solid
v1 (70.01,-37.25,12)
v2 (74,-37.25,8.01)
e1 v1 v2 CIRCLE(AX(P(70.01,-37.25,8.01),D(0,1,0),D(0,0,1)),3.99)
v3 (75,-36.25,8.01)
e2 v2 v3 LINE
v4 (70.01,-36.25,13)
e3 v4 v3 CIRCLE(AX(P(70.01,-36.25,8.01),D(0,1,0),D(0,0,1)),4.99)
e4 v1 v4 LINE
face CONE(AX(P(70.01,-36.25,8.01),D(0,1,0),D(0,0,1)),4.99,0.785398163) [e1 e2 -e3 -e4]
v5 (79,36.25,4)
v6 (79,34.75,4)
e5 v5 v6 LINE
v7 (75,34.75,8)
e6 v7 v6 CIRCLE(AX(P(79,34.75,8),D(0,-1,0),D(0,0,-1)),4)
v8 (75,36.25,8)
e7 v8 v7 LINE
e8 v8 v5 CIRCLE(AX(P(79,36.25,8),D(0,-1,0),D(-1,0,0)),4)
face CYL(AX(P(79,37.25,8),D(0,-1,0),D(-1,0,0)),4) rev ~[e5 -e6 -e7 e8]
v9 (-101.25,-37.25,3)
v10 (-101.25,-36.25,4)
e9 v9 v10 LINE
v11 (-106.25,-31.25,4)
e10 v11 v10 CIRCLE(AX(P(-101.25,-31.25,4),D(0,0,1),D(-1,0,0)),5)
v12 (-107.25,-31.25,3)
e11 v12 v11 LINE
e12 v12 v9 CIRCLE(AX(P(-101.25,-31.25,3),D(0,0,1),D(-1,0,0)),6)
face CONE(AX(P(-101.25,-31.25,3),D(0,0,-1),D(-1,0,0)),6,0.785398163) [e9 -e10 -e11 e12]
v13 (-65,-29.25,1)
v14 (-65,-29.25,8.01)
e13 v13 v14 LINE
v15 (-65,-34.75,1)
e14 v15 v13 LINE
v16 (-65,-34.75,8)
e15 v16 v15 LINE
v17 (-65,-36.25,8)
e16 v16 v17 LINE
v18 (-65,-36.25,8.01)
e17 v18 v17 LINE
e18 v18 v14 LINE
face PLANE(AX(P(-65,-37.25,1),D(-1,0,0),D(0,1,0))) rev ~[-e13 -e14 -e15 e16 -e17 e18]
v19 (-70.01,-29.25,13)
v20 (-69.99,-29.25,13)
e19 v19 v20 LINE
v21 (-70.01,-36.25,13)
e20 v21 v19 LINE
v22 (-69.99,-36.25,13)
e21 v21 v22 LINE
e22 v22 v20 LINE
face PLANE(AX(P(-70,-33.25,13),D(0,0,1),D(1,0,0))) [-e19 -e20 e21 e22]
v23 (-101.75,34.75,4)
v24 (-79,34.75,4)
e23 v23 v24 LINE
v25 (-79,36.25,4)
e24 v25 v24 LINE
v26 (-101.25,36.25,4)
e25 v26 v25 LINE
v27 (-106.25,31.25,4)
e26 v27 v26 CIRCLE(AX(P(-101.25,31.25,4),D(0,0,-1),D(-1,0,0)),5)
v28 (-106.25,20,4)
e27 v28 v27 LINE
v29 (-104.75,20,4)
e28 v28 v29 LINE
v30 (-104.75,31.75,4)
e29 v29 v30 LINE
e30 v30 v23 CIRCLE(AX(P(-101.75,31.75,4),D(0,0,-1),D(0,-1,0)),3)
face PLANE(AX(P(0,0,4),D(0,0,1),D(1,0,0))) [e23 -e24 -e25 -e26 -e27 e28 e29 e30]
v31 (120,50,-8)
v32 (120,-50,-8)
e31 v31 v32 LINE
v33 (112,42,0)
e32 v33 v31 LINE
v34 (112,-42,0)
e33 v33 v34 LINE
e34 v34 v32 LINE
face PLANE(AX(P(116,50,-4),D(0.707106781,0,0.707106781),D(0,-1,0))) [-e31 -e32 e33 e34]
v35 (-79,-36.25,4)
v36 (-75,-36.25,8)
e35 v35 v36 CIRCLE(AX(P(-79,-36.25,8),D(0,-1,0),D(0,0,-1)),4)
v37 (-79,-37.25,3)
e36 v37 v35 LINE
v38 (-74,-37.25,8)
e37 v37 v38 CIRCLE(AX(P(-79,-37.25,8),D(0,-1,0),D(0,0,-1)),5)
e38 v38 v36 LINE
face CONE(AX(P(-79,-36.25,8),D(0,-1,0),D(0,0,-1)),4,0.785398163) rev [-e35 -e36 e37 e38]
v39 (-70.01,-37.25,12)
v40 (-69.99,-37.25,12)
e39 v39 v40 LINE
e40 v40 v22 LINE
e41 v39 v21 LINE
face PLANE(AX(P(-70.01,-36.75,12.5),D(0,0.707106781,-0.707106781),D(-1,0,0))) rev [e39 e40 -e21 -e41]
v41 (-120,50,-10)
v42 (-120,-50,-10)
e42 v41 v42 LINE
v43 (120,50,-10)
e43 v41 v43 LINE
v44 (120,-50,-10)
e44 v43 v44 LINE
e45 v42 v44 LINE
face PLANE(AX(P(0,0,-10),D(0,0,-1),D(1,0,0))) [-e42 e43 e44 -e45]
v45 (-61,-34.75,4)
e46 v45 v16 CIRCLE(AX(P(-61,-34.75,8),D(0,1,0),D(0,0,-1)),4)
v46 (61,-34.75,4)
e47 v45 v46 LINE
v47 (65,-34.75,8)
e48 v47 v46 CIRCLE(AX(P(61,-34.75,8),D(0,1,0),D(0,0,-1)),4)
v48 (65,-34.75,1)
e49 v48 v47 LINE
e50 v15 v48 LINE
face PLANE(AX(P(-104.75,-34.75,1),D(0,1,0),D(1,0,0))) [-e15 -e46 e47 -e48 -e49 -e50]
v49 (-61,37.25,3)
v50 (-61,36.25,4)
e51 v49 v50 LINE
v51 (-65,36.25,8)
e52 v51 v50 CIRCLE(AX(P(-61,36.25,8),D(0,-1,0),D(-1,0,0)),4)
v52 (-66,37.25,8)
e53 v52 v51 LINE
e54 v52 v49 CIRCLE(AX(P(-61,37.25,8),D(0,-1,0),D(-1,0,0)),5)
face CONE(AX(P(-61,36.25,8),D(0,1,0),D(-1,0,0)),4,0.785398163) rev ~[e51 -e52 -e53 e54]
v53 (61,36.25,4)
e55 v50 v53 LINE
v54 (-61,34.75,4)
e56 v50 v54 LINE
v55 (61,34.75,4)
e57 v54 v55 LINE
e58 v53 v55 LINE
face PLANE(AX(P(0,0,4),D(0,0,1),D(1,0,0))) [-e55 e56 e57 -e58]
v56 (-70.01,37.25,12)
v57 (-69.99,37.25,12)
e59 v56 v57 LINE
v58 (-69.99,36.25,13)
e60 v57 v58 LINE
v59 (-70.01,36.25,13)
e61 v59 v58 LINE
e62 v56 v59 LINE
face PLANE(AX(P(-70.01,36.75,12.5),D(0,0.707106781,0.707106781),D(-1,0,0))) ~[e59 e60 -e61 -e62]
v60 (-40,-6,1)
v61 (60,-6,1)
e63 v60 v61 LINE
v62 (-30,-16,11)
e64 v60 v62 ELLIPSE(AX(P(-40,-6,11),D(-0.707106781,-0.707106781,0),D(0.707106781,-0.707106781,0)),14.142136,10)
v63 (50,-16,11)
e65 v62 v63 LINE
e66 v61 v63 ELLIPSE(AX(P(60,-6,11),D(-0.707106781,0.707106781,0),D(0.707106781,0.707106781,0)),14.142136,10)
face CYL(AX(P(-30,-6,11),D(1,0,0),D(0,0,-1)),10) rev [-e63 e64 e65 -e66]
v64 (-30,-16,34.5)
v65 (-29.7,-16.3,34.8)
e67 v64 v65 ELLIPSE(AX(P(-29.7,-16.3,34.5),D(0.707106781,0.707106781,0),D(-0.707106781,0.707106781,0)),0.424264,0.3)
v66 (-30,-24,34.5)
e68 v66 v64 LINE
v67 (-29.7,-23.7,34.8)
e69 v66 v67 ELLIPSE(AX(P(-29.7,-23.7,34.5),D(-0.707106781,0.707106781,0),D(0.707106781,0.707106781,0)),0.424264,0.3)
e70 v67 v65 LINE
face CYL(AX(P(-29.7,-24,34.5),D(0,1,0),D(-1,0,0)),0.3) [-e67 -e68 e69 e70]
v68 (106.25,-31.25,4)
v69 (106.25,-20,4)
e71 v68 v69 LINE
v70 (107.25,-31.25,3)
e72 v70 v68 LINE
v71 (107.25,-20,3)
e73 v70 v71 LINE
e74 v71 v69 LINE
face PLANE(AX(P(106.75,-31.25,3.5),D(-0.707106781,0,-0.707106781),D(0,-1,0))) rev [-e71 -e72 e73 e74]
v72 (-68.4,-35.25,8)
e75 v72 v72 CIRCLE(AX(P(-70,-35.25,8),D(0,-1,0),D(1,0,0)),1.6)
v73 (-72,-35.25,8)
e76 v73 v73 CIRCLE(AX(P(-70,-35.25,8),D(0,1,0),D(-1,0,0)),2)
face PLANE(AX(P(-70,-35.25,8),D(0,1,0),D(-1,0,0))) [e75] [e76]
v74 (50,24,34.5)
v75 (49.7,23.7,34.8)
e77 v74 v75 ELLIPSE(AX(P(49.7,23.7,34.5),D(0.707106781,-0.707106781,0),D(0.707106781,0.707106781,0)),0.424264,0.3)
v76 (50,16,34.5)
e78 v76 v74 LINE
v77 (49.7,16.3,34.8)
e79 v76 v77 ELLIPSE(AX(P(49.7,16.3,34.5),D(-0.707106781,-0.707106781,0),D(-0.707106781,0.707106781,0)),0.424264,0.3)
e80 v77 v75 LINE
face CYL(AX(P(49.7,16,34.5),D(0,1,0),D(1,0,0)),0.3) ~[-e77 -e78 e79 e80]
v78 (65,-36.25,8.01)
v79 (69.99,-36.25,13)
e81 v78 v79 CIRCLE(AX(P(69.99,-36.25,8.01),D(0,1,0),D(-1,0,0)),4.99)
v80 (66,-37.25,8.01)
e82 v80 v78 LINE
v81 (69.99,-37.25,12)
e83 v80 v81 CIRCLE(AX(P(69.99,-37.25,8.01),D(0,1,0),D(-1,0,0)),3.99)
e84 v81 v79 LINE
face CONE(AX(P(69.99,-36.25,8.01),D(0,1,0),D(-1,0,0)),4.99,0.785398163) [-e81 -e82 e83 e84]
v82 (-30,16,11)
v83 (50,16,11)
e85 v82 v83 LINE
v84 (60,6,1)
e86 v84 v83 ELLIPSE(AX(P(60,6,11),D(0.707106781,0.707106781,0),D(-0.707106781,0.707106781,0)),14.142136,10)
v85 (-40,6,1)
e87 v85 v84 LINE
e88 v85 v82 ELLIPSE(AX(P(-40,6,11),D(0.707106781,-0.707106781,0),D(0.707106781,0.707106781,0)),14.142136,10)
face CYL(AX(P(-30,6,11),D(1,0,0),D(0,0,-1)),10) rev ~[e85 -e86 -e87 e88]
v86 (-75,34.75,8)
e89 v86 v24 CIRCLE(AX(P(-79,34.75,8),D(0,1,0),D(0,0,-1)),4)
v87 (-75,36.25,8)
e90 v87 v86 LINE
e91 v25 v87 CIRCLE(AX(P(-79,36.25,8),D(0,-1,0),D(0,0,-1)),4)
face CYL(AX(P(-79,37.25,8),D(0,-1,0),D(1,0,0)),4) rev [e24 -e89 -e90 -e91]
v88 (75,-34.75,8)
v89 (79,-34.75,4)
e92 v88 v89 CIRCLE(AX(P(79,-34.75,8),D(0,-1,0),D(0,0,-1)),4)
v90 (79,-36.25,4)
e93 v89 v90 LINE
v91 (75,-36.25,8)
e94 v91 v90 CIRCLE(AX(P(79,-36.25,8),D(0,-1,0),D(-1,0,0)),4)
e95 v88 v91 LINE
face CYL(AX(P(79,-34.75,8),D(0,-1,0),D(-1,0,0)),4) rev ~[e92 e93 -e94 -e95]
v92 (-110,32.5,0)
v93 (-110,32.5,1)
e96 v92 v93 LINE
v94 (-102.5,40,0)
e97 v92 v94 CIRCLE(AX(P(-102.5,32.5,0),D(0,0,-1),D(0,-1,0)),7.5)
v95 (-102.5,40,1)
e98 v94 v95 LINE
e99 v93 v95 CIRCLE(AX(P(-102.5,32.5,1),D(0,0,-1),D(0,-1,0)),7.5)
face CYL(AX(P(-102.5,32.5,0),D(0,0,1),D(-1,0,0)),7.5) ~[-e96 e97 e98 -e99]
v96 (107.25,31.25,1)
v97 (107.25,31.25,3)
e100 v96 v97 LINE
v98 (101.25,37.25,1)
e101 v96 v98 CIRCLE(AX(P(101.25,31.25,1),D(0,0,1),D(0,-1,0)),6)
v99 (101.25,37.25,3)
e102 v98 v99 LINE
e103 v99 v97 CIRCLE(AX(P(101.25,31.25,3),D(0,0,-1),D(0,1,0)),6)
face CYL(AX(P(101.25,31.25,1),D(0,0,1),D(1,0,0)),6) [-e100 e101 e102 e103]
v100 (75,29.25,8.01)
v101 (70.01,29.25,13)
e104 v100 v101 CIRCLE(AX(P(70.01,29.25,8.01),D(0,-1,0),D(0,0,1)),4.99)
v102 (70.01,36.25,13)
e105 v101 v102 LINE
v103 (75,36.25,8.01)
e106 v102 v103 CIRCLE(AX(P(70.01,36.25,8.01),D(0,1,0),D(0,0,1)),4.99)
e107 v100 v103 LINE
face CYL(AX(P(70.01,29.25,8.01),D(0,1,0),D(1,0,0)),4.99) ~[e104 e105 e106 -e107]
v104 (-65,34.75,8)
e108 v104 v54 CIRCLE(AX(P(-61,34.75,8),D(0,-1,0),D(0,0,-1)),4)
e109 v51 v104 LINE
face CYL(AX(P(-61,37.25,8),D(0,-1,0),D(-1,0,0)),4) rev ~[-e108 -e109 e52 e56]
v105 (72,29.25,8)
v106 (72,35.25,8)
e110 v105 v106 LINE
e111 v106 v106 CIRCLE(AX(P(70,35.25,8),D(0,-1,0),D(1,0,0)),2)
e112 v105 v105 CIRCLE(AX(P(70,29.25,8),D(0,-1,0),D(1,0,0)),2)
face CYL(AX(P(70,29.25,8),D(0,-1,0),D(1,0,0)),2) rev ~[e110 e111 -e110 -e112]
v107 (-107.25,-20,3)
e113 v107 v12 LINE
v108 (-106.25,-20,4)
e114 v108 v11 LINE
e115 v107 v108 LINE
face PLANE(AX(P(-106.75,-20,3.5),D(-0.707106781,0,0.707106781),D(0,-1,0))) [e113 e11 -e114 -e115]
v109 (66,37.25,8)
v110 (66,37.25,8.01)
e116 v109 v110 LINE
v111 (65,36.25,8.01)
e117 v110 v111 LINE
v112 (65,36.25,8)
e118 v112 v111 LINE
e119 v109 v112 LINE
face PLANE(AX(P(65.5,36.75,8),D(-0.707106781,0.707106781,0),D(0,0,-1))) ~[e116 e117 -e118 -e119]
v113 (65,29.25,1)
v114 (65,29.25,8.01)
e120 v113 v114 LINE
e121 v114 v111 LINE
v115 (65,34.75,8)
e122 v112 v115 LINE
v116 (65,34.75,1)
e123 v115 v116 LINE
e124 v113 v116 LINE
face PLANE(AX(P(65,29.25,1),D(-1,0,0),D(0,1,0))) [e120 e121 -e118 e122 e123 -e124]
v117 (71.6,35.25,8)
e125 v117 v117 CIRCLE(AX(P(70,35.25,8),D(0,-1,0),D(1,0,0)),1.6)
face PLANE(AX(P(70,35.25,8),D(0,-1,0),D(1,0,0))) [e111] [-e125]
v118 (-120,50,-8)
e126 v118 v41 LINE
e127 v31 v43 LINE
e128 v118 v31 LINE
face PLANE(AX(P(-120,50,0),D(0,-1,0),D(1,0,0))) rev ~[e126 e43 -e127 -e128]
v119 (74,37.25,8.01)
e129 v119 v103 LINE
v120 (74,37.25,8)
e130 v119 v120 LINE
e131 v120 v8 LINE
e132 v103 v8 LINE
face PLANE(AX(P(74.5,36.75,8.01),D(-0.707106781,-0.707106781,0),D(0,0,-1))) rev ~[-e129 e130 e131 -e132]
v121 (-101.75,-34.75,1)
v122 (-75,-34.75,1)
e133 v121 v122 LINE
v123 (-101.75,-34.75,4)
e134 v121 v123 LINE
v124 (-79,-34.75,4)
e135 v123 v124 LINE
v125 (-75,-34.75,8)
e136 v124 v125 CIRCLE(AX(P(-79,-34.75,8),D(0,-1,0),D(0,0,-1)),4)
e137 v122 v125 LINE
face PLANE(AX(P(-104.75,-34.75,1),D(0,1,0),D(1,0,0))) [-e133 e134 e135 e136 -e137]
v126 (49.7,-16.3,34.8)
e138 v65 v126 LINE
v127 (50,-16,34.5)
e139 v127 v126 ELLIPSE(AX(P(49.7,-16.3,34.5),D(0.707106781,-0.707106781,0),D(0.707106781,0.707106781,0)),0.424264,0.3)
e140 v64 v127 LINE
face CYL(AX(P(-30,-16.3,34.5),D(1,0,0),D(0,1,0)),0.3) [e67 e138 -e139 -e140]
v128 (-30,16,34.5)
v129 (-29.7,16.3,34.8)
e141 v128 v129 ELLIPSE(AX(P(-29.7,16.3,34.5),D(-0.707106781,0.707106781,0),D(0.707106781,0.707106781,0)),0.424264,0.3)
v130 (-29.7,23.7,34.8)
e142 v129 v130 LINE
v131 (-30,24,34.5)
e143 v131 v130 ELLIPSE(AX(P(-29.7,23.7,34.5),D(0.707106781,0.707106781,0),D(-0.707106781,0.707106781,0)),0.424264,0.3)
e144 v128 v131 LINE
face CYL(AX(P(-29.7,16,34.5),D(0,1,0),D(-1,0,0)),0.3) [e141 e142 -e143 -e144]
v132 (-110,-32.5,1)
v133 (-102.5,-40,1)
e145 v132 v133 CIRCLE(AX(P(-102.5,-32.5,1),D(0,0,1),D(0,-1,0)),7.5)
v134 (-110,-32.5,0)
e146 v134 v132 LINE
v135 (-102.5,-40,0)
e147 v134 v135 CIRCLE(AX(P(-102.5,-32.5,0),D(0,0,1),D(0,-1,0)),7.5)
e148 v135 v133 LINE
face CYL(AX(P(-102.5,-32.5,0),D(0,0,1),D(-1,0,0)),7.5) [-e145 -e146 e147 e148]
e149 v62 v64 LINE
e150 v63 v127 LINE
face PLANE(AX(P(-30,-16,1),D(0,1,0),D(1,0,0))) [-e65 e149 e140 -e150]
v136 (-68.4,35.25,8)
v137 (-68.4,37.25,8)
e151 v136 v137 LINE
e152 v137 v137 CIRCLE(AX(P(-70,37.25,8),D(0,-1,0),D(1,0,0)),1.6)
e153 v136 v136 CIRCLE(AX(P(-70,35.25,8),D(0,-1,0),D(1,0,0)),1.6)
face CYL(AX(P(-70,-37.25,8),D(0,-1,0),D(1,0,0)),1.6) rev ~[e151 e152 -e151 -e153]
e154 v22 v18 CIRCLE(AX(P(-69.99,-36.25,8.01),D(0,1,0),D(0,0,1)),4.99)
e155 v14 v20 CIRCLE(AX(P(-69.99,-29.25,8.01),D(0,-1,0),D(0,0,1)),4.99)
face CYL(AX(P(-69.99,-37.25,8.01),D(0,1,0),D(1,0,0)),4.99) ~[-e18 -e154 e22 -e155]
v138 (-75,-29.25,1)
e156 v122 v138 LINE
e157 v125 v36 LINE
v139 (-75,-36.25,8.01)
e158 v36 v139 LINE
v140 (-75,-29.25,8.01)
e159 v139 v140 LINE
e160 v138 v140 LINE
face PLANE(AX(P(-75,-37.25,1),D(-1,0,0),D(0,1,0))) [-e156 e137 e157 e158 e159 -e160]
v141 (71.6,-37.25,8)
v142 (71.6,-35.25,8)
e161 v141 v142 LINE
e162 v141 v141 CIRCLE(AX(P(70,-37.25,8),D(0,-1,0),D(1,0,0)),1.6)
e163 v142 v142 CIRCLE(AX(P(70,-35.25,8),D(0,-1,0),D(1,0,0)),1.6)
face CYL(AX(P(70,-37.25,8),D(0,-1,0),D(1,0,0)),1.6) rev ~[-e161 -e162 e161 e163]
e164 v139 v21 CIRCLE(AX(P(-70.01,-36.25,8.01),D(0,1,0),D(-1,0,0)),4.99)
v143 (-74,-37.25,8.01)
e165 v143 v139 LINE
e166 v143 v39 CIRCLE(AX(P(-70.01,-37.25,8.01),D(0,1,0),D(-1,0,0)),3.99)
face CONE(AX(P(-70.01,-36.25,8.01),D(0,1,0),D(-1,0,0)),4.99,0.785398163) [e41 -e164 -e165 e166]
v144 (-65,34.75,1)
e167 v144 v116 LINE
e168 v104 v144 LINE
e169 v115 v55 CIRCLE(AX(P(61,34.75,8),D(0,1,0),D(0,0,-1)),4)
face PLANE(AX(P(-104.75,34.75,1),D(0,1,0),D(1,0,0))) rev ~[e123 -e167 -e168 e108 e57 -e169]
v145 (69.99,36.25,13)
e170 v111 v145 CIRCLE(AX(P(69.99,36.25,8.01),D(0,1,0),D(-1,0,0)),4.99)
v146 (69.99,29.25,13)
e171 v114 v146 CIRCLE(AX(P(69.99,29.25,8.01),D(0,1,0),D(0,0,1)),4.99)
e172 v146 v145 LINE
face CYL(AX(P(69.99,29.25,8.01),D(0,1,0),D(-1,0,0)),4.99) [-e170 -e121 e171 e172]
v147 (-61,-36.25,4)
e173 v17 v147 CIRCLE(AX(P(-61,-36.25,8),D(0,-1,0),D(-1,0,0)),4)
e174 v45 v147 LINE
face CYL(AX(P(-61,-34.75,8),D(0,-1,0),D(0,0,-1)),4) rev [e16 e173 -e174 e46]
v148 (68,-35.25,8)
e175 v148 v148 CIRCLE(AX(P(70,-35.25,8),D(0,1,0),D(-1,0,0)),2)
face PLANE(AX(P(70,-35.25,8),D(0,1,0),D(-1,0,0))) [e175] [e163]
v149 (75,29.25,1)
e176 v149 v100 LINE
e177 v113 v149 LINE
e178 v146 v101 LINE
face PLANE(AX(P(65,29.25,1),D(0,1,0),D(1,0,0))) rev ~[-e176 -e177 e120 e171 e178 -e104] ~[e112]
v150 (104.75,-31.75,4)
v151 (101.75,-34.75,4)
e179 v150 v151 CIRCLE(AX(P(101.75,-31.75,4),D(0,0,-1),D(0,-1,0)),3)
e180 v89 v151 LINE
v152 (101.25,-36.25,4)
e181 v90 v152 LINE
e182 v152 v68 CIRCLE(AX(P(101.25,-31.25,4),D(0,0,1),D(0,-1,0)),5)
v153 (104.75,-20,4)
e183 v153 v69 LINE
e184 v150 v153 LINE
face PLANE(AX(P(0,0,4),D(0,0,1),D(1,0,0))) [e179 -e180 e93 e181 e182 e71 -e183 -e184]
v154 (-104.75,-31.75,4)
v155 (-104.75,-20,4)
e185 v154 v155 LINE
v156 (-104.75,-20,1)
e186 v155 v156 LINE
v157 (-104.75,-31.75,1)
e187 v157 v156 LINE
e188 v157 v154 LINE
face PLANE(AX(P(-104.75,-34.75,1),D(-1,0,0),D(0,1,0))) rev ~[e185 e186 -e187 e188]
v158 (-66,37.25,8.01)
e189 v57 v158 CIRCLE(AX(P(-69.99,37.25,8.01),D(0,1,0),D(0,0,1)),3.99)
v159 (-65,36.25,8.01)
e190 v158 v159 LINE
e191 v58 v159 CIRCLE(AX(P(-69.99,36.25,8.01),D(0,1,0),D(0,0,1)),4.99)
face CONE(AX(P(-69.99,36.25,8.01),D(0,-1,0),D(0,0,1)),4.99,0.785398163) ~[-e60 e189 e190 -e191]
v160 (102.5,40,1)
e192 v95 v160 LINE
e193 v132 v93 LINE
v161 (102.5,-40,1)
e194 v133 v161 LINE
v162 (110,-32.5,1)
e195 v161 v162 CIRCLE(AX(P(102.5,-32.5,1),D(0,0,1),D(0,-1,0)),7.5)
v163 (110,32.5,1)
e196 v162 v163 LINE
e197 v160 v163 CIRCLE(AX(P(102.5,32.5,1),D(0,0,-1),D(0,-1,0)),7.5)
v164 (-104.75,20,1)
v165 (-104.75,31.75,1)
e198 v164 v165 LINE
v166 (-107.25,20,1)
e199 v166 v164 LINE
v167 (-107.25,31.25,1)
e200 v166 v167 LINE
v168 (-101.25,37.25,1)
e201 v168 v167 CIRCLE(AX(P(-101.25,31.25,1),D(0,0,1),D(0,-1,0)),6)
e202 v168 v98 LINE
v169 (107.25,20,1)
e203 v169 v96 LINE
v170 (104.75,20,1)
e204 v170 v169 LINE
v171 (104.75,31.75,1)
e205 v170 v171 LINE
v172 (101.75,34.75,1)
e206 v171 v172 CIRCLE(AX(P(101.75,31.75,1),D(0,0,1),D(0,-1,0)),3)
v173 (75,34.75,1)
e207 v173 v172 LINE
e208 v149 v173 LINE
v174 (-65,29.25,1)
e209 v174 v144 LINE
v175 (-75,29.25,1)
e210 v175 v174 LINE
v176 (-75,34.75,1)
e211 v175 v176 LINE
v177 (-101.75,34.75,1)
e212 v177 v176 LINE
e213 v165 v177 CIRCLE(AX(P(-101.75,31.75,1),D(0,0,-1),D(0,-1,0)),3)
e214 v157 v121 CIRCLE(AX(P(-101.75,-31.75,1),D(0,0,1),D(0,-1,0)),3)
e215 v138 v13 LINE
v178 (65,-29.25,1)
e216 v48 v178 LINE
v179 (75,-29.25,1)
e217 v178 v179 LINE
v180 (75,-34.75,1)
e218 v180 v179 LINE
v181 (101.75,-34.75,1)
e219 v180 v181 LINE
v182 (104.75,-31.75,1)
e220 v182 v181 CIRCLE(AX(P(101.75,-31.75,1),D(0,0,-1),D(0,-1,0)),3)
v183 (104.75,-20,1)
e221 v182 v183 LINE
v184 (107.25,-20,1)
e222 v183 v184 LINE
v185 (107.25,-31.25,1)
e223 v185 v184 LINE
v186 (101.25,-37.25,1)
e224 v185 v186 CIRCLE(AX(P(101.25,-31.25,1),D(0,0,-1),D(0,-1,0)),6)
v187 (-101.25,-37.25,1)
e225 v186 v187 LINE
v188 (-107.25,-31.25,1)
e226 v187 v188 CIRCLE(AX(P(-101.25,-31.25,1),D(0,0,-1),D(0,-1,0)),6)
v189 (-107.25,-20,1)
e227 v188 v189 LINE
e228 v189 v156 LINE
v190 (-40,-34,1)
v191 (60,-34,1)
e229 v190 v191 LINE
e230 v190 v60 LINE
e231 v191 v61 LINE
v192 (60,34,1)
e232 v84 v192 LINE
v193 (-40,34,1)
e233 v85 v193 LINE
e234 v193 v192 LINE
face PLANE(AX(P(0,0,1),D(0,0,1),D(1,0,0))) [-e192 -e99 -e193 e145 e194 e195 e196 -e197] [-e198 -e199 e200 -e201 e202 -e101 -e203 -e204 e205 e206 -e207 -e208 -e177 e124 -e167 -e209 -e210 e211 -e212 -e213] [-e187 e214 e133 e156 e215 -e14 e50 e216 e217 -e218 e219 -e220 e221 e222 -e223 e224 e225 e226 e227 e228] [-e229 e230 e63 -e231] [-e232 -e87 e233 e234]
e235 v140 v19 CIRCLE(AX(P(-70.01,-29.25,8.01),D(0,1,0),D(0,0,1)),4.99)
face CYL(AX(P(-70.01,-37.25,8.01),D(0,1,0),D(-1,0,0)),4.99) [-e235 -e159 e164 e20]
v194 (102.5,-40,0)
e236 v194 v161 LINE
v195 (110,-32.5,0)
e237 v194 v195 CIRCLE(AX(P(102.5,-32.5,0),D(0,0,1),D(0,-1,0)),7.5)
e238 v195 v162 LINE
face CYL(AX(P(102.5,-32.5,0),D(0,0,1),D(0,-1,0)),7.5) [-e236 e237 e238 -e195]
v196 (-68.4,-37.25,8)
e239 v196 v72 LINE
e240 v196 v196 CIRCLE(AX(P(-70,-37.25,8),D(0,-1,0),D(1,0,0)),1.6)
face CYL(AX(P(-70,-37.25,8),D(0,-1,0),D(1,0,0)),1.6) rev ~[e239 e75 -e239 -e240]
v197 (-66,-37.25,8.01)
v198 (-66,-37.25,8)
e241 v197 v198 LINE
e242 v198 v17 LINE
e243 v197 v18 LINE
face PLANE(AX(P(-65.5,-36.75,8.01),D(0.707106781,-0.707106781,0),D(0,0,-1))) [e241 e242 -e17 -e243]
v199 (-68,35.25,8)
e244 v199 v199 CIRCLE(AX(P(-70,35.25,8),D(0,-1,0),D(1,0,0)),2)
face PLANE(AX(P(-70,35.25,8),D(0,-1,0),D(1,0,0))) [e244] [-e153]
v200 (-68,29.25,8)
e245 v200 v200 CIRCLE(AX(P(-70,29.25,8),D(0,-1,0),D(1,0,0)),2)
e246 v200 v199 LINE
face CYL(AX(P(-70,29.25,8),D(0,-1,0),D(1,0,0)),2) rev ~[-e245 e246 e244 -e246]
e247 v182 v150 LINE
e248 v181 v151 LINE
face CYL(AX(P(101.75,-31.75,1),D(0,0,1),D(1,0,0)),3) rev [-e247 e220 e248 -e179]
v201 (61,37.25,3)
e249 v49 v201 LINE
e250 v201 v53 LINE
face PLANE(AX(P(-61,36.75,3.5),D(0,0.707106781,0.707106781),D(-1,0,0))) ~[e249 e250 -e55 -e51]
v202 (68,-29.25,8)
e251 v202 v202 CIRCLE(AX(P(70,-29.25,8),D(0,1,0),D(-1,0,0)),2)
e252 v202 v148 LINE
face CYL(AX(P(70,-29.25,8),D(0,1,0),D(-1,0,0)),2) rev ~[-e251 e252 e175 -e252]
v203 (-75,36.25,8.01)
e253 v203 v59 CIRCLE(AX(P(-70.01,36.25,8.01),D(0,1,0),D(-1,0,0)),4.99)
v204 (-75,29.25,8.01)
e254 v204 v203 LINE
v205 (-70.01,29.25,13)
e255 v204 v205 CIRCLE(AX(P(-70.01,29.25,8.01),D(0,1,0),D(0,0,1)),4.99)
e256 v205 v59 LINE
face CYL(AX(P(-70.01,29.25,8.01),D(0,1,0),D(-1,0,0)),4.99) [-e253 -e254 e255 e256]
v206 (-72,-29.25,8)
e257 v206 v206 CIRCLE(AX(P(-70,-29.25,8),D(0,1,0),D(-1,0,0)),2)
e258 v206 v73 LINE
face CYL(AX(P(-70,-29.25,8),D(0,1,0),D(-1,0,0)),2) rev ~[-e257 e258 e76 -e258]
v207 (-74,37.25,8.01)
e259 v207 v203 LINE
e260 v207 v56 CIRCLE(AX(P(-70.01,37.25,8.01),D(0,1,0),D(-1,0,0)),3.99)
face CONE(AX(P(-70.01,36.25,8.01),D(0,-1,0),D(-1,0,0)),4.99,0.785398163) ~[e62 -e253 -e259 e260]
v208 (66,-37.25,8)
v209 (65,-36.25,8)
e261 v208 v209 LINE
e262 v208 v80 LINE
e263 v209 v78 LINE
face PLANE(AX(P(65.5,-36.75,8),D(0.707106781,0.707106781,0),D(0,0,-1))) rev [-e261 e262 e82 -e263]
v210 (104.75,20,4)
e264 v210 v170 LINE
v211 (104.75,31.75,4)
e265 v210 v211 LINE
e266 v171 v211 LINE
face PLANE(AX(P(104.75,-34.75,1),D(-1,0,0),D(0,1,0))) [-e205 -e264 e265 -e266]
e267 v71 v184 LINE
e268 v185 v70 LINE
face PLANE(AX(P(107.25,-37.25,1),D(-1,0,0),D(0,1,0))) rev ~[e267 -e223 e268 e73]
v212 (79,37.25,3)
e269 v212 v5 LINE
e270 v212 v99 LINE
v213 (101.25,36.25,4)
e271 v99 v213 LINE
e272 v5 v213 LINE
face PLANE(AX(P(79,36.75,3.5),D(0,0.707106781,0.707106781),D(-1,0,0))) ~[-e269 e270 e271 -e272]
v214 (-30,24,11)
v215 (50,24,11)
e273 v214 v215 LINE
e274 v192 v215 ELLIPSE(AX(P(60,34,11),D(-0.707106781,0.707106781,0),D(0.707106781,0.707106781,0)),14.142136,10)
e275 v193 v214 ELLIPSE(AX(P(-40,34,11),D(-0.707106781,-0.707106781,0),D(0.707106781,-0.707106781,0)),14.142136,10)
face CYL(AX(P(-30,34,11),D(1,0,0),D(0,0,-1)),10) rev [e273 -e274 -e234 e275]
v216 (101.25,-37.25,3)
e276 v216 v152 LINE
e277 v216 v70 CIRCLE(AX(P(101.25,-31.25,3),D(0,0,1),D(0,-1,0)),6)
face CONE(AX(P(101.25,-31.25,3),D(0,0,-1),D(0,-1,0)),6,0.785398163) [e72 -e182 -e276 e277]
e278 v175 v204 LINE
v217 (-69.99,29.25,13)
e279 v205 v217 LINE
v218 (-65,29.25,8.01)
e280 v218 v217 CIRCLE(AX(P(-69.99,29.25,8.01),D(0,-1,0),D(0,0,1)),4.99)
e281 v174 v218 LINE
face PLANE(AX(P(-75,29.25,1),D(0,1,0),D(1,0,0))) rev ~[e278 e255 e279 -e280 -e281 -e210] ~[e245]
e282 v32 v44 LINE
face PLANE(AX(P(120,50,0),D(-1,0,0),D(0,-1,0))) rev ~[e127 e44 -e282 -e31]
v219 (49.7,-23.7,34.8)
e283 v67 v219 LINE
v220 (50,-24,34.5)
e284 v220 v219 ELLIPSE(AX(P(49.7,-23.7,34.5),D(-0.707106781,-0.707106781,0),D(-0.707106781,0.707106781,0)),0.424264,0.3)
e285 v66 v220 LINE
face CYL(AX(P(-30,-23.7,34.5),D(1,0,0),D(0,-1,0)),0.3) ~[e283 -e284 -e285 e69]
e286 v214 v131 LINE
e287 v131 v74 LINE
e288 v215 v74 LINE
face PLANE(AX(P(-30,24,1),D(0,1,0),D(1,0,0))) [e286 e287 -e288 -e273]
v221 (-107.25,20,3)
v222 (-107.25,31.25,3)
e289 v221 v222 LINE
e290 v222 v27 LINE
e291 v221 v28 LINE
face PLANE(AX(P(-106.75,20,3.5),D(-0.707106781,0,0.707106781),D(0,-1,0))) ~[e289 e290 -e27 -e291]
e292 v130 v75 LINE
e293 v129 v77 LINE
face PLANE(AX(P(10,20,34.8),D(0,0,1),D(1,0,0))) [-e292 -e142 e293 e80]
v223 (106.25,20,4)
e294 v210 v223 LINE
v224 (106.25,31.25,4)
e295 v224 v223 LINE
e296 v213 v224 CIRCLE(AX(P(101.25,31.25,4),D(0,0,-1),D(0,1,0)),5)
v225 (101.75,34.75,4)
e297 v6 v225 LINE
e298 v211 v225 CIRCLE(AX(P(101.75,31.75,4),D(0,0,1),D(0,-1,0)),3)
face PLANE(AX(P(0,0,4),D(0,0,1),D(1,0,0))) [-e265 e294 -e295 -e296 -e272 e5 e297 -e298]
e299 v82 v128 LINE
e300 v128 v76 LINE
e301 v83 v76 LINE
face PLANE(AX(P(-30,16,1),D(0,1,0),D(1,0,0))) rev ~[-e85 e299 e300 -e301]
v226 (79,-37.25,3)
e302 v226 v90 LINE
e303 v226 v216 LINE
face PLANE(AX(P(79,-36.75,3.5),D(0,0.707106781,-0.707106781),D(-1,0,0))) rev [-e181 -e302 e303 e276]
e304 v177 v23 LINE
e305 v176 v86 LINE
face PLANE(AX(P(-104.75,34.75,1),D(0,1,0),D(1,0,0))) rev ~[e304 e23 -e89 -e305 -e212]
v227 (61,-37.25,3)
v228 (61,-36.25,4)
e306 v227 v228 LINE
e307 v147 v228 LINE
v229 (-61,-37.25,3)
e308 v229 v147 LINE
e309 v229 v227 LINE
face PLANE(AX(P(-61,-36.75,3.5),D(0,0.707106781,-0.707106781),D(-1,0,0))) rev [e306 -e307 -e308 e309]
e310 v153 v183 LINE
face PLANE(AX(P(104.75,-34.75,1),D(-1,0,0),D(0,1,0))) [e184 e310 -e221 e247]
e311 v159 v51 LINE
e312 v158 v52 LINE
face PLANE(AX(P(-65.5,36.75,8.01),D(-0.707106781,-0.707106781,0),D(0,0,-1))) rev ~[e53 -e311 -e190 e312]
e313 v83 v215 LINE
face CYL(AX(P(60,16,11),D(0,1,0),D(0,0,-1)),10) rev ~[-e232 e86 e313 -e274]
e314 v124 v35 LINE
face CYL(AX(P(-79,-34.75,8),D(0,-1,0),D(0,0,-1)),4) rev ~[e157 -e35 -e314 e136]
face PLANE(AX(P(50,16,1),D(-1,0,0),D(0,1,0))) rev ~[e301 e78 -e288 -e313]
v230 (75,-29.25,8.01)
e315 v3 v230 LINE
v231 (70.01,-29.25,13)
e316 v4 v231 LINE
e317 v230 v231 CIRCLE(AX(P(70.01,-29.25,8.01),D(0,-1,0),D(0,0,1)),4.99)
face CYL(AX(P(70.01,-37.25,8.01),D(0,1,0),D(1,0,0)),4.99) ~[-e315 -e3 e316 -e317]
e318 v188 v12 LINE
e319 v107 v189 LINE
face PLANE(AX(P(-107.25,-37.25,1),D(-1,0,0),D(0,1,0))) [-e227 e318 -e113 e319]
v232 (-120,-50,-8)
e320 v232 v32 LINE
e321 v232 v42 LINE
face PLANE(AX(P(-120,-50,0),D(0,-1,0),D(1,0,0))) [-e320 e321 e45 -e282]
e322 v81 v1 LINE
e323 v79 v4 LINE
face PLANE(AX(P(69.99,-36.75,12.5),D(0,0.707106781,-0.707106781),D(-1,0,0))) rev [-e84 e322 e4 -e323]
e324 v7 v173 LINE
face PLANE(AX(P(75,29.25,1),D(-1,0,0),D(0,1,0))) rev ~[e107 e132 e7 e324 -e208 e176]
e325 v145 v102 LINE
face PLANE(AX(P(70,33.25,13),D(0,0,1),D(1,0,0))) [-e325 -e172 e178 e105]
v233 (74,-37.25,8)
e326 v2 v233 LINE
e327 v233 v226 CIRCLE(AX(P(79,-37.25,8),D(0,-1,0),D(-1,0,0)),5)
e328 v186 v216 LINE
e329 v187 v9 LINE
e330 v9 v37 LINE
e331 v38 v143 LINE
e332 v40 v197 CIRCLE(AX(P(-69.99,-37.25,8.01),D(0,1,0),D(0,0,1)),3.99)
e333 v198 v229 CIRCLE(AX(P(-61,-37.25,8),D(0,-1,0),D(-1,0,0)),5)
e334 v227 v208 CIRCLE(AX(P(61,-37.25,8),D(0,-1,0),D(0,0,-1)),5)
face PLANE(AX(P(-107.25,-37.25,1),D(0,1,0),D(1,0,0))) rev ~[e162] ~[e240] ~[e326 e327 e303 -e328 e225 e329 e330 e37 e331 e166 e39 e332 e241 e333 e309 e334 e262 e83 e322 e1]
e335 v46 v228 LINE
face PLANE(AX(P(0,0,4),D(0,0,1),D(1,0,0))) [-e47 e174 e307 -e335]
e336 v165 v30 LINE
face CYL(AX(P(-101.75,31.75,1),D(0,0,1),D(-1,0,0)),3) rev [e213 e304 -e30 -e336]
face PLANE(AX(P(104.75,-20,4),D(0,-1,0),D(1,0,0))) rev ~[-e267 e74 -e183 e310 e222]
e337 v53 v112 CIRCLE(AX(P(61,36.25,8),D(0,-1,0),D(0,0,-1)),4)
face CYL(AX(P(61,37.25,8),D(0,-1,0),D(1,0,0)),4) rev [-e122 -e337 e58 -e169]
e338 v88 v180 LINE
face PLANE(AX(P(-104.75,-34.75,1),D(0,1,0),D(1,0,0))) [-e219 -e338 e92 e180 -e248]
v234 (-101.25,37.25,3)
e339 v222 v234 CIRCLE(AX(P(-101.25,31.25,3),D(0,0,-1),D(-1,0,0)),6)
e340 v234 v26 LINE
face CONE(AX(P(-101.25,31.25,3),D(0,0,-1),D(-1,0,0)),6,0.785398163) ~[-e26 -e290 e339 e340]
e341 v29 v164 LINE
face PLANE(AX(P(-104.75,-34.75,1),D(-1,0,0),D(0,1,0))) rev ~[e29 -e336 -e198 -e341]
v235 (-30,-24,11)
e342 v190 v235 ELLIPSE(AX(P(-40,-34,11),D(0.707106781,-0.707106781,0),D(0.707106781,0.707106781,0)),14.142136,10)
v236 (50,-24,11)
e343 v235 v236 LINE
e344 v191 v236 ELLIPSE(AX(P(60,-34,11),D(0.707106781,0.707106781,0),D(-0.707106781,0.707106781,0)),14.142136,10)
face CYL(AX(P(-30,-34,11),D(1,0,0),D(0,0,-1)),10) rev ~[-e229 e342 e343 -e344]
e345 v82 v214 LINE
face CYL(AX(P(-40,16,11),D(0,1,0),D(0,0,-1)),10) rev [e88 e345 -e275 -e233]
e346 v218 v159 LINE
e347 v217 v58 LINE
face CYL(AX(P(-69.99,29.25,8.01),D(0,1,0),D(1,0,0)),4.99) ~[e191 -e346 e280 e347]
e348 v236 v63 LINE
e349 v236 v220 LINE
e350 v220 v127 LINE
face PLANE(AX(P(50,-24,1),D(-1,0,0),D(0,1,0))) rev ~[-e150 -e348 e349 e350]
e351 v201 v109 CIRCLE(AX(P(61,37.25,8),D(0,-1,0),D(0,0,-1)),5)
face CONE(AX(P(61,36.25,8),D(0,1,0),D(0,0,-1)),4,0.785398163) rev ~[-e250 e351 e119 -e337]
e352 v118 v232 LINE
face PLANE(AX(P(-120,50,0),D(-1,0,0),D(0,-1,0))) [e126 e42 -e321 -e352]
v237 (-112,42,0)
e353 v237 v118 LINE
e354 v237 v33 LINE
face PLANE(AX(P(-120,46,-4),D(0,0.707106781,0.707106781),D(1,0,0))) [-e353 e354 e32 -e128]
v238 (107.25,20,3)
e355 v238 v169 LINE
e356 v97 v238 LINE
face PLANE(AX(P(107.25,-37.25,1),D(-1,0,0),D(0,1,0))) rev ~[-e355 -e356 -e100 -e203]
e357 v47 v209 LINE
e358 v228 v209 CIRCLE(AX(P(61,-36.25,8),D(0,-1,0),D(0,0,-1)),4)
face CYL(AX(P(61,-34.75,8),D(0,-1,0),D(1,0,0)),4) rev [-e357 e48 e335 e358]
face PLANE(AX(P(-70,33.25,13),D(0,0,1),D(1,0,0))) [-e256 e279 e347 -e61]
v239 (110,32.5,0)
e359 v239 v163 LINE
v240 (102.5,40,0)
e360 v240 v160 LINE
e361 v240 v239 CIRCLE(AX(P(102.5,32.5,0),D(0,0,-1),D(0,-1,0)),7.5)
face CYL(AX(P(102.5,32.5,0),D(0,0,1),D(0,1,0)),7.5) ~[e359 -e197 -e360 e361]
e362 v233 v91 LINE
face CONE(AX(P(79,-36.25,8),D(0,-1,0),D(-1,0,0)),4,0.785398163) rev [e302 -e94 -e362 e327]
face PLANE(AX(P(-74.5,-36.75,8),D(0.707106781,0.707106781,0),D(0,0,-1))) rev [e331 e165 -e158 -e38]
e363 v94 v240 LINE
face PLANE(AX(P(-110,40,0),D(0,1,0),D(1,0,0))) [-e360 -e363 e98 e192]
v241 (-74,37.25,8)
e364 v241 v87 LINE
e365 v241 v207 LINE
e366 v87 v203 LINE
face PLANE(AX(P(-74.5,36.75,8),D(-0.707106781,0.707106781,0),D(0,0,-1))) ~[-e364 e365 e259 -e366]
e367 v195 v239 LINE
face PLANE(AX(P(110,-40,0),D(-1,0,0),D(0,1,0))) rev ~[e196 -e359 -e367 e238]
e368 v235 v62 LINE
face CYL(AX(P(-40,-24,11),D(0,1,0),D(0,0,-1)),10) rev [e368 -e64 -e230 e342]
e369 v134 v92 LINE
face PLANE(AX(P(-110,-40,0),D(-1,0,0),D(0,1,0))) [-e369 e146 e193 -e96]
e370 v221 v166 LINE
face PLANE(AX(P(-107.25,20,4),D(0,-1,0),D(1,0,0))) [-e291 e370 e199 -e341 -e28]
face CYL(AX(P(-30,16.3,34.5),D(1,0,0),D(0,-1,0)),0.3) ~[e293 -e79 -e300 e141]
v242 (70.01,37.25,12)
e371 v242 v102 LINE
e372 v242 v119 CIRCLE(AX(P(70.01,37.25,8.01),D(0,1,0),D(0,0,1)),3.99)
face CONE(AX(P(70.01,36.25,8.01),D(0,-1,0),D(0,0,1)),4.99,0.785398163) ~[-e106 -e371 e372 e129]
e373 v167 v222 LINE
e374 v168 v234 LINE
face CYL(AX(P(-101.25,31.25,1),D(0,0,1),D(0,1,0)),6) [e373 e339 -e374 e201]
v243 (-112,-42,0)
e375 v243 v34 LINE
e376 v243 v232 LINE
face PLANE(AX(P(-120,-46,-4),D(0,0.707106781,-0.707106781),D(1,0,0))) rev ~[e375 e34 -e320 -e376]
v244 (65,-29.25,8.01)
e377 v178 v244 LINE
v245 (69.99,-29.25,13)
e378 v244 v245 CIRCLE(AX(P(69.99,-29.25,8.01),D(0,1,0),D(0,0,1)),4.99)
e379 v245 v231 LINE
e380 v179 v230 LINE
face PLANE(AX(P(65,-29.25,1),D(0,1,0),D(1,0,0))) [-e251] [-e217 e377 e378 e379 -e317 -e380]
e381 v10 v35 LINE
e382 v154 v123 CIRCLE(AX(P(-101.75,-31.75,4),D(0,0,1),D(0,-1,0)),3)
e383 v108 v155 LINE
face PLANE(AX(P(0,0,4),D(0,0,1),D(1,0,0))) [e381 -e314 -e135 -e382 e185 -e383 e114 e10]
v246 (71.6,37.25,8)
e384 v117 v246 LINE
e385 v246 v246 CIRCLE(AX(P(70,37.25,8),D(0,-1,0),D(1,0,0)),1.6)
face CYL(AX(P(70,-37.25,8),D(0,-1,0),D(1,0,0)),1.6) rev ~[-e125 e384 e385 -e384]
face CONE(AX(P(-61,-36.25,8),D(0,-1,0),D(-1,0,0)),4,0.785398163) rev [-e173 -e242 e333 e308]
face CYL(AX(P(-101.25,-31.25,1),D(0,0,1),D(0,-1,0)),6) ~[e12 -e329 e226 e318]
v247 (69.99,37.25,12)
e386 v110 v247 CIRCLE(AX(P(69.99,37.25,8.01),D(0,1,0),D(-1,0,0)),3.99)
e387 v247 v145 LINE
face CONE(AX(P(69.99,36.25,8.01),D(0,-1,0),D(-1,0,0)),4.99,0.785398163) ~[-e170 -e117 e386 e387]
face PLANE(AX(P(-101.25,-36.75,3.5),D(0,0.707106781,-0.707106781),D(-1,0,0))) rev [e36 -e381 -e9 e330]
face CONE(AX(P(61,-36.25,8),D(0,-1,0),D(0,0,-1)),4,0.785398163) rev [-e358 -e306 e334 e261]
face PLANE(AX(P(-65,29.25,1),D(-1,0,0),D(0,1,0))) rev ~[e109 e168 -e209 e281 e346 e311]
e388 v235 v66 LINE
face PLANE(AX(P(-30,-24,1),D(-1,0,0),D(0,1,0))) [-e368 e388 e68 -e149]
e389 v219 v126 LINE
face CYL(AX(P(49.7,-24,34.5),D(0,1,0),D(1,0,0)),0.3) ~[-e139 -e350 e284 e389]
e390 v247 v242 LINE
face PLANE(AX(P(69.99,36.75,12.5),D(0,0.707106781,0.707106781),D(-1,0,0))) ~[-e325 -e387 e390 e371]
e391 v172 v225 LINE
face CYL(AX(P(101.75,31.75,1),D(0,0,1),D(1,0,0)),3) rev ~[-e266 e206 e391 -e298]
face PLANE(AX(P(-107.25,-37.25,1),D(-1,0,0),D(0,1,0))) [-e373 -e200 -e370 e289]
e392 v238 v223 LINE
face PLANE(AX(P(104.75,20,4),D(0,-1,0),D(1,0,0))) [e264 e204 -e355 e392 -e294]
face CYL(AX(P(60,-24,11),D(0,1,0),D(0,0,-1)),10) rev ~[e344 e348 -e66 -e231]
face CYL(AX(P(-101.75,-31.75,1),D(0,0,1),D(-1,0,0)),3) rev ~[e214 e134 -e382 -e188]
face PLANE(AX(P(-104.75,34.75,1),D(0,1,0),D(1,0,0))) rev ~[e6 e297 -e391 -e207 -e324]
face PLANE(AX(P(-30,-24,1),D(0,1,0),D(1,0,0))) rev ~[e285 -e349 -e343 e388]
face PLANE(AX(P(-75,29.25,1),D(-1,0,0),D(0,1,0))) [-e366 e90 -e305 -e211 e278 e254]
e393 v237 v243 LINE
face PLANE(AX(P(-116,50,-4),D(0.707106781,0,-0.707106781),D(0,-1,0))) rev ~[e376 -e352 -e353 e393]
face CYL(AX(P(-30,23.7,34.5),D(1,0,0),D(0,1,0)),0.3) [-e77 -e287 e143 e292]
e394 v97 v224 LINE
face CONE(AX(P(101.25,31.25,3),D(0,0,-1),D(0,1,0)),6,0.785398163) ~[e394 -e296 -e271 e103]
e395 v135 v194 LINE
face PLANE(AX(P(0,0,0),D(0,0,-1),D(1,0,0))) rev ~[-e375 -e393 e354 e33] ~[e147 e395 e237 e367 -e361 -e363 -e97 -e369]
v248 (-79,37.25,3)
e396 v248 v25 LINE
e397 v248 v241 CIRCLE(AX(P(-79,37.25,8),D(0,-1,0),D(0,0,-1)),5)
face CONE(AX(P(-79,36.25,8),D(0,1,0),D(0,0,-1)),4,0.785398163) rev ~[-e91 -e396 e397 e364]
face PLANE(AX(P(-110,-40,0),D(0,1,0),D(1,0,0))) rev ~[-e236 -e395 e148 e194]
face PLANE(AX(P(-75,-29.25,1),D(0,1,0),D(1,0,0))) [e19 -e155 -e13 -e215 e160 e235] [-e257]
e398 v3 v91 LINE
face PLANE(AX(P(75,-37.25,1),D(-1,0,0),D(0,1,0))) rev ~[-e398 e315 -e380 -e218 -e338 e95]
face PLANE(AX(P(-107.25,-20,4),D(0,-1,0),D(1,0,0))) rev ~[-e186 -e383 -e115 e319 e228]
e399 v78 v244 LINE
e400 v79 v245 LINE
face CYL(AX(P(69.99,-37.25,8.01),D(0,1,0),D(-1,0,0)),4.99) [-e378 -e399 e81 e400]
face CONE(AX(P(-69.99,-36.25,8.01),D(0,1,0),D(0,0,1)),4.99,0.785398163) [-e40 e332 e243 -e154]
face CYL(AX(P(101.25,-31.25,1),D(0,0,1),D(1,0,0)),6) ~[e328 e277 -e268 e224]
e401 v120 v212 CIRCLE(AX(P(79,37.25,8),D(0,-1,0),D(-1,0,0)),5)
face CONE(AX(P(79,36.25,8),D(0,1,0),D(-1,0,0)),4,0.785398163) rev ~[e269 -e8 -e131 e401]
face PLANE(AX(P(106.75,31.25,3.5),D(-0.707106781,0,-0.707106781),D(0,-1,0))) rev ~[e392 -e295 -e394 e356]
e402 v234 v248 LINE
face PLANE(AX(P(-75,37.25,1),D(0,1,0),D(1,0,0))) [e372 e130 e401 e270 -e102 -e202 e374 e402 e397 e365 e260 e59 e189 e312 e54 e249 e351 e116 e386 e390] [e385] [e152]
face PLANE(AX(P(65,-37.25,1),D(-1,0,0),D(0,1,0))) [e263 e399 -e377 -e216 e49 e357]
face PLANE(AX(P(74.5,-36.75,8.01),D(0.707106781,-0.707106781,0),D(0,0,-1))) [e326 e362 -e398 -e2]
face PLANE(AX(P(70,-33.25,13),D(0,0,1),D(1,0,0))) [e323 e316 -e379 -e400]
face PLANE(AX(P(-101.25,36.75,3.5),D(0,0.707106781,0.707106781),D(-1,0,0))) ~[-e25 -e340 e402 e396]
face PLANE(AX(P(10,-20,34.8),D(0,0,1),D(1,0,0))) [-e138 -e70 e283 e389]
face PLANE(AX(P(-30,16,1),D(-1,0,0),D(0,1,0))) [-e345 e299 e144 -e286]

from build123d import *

# Parameters (mm, degrees)
SKETCH_W        = 220
SKETCH_H        = 80
PAD_DEPTH       = 1
SKETCH001_W     = 214.5
SKETCH001_H     = 74.5
SKETCH001_W_2   = 209.5
SKETCH001_H_2   = 69.5
PAD001_DEPTH    = 3
SKETCH002_W     = 2.5
SKETCH002_H     = 40
POCKET_DEPTH    = 3
SKETCH003_W     = 10
SKETCH003_H     = 8
PAD002_DEPTH    = 12
SKETCH008_W     = 80
SKETCH008_H     = 8
PAD003_DEPTH    = 33.8
SKETCH007_W     = 240
SKETCH007_H     = 100
PAD004_DEPTH    = 10
SKETCH009_R     = 1.6
POCKET001_DEPTH = 80
SKETCH010_R     = 2
POCKET002_DEPTH = 6
SKETCH011_R     = 2
POCKET003_DEPTH = 6
FILLET_R        = 3
FILLET001_R     = 6
FILLET002_R     = 7.5
FILLET003_R     = 4.99
FILLET004_R     = 4
CHAMFER_SIZE    = 1
CHAMFER001_SIZE = 1
FILLET005_R     = 10
FILLET006_R     = 0.3
CHAMFER002_SIZE = 8


with BuildPart() as part:
    # Sketch → Pad (new body)
    with BuildSketch(Plane.XY):
        Rectangle(SKETCH_W, SKETCH_H)
    extrude(amount=PAD_DEPTH)

    # Sketch001 (on Face6 of Pad) → Pad001 (join)
    with BuildSketch(Plane.XY.offset(1)):
        Rectangle(SKETCH001_W, SKETCH001_H)
        Rectangle(SKETCH001_W_2, SKETCH001_H_2, mode=Mode.SUBTRACT)
    extrude(amount=PAD001_DEPTH)

    # Sketch002 (on Face11 of Pad001) → Pocket (cut)
    with BuildSketch(Plane.XY.offset(4)):
        with Locations((-106, 0)):
            Rectangle(SKETCH002_W, SKETCH002_H)
        with Locations((106, 0)):
            Rectangle(SKETCH002_W, SKETCH002_H)
    extrude(amount=-POCKET_DEPTH, mode=Mode.SUBTRACT)

    # Sketch003 → Pad002 (join)
    with BuildSketch(Plane.XY.offset(1)):
        with Locations((-70, 33.25)):
            Rectangle(SKETCH003_W, SKETCH003_H)
        with Locations((70, 33.25)):
            Rectangle(SKETCH003_W, SKETCH003_H)
        with Locations((70, -33.25)):
            Rectangle(SKETCH003_W, SKETCH003_H)
        with Locations((-70, -33.25)):
            Rectangle(SKETCH003_W, SKETCH003_H)
    extrude(amount=PAD002_DEPTH)

    # Sketch008 → Pad003 (join)
    with BuildSketch(Plane.XY.offset(1)):
        with Locations((10, 20)):
            Rectangle(SKETCH008_W, SKETCH008_H)
        with Locations((10, -20)):
            Rectangle(SKETCH008_W, SKETCH008_H)
    extrude(amount=PAD003_DEPTH)

    # Sketch007 → Pad004 (join)
    with BuildSketch(Plane(origin=(0, 0, 0), x_dir=(1, 0, 0), z_dir=(0, 0, -1))):
        Rectangle(SKETCH007_W, SKETCH007_H)
    extrude(amount=PAD004_DEPTH)

    # Sketch009 (on Face13 of Pad004) → Pocket001 (cut)
    with BuildSketch(Plane.XZ.offset(37.25)):
        with Locations((-70, 8)):
            Circle(SKETCH009_R)
        with Locations((70, 8)):
            Circle(SKETCH009_R)
    extrude(amount=-POCKET001_DEPTH, mode=Mode.SUBTRACT)

    # Sketch010 (on Face25 of Pocket001) → Pocket002 (cut)
    with BuildSketch(Plane(origin=(0, -29.25, 0), x_dir=(-1, 0, 0), z_dir=(0, 1, 0))):
        with Locations((-70, 8)):
            Circle(SKETCH010_R)
        with Locations((70, 8)):
            Circle(SKETCH010_R)
    extrude(amount=-POCKET002_DEPTH, mode=Mode.SUBTRACT)

    # Sketch011 (on Face48 of Pocket002) → Pocket003 (cut)
    with BuildSketch(Plane.XZ.offset(-29.25)):
        with Locations((-70, 8)):
            Circle(SKETCH011_R)
        with Locations((70, 8)):
            Circle(SKETCH011_R)
    extrude(amount=-POCKET003_DEPTH, mode=Mode.SUBTRACT)

    # Fillet
    fillet_edges = [part.edges().sort_by_distance(p)[0] for p in [
        (104.75, -34.75, 2.5),
        (104.75, 34.75, 2.5),
        (-104.75, -34.75, 2.5),
        (-104.75, 34.75, 2.5),
    ]]
    fillet(fillet_edges, radius=FILLET_R)

    # Fillet001
    fillet001_edges = [part.edges().sort_by_distance(p)[0] for p in [
        (-107.25, 37.25, 2.5),
        (-107.25, -37.25, 2.5),
        (107.25, 37.25, 2.5),
        (107.25, -37.25, 2.5),
    ]]
    fillet(fillet001_edges, radius=FILLET001_R)

    # Fillet002
    fillet002_edges = [part.edges().sort_by_distance(p)[0] for p in [
        (110, 40, 0.5),
        (-110, 40, 0.5),
        (110, -40, 0.5),
        (-110, -40, 0.5),
    ]]
    fillet(fillet002_edges, radius=FILLET002_R)

    # Fillet003
    fillet003_edges = [part.edges().sort_by_distance(p)[0] for p in [
        (75, 33.25, 13),
        (65, 33.25, 13),
        (75, -33.25, 13),
        (65, -33.25, 13),
        (-65, 33.25, 13),
        (-75, 33.25, 13),
        (-65, -33.25, 13),
        (-75, -33.25, 13),
    ]]
    fillet(fillet003_edges, radius=FILLET003_R)

    # Fillet004
    fillet004_edges = [part.edges().sort_by_distance(p)[0] for p in [
        (75, 36, 4),
        (75, -36, 4),
        (-65, -36, 4),
        (-65, 36, 4),
        (-75, 36, 4),
        (-75, -36, 4),
        (65, -36, 4),
        (65, 36, 4),
    ]]
    fillet(fillet004_edges, radius=FILLET004_R)

    # Chamfer
    chamfer_edges = [part.edges().sort_by_distance(p)[0] for p in [
        (66.461537, -37.25, 11.538463),
    ]]
    chamfer(chamfer_edges, length=CHAMFER_SIZE)

    # Chamfer001
    chamfer001_edges = [part.edges().sort_by_distance(p)[0] for p in [
        (-73.538463, 37.25, 11.538463),
    ]]
    chamfer(chamfer001_edges, length=CHAMFER001_SIZE)

    # Fillet005
    fillet005_edges = [part.edges().sort_by_distance(p)[0] for p in [
        (10, 24, 1),
        (50, 20, 1),
        (50, -20, 1),
        (10, -16, 1),
        (-30, 20, 1),
        (10, 16, 1),
        (-30, -20, 1),
        (10, -24, 1),
    ]]
    fillet(fillet005_edges, radius=FILLET005_R)

    # Fillet006
    fillet006_edges = [part.edges().sort_by_distance(p)[0] for p in [
        (-30, -20, 34.8),
        (-30, 20, 34.8),
        (50, 20, 34.8),
        (50, -20, 34.8),
        (10, -16, 34.8),
        (10, -24, 34.8),
        (10, 16, 34.8),
        (10, 24, 34.8),
    ]]
    fillet(fillet006_edges, radius=FILLET006_R)

    # Chamfer002
    chamfer002_edges = [part.edges().sort_by_distance(p)[0] for p in [
        (0, -50, 0),
        (-120, 0, 0),
        (0, 50, 0),
        (120, 0, 0),
    ]]
    chamfer(chamfer002_edges, length=CHAMFER002_SIZE)


solid = part.part
